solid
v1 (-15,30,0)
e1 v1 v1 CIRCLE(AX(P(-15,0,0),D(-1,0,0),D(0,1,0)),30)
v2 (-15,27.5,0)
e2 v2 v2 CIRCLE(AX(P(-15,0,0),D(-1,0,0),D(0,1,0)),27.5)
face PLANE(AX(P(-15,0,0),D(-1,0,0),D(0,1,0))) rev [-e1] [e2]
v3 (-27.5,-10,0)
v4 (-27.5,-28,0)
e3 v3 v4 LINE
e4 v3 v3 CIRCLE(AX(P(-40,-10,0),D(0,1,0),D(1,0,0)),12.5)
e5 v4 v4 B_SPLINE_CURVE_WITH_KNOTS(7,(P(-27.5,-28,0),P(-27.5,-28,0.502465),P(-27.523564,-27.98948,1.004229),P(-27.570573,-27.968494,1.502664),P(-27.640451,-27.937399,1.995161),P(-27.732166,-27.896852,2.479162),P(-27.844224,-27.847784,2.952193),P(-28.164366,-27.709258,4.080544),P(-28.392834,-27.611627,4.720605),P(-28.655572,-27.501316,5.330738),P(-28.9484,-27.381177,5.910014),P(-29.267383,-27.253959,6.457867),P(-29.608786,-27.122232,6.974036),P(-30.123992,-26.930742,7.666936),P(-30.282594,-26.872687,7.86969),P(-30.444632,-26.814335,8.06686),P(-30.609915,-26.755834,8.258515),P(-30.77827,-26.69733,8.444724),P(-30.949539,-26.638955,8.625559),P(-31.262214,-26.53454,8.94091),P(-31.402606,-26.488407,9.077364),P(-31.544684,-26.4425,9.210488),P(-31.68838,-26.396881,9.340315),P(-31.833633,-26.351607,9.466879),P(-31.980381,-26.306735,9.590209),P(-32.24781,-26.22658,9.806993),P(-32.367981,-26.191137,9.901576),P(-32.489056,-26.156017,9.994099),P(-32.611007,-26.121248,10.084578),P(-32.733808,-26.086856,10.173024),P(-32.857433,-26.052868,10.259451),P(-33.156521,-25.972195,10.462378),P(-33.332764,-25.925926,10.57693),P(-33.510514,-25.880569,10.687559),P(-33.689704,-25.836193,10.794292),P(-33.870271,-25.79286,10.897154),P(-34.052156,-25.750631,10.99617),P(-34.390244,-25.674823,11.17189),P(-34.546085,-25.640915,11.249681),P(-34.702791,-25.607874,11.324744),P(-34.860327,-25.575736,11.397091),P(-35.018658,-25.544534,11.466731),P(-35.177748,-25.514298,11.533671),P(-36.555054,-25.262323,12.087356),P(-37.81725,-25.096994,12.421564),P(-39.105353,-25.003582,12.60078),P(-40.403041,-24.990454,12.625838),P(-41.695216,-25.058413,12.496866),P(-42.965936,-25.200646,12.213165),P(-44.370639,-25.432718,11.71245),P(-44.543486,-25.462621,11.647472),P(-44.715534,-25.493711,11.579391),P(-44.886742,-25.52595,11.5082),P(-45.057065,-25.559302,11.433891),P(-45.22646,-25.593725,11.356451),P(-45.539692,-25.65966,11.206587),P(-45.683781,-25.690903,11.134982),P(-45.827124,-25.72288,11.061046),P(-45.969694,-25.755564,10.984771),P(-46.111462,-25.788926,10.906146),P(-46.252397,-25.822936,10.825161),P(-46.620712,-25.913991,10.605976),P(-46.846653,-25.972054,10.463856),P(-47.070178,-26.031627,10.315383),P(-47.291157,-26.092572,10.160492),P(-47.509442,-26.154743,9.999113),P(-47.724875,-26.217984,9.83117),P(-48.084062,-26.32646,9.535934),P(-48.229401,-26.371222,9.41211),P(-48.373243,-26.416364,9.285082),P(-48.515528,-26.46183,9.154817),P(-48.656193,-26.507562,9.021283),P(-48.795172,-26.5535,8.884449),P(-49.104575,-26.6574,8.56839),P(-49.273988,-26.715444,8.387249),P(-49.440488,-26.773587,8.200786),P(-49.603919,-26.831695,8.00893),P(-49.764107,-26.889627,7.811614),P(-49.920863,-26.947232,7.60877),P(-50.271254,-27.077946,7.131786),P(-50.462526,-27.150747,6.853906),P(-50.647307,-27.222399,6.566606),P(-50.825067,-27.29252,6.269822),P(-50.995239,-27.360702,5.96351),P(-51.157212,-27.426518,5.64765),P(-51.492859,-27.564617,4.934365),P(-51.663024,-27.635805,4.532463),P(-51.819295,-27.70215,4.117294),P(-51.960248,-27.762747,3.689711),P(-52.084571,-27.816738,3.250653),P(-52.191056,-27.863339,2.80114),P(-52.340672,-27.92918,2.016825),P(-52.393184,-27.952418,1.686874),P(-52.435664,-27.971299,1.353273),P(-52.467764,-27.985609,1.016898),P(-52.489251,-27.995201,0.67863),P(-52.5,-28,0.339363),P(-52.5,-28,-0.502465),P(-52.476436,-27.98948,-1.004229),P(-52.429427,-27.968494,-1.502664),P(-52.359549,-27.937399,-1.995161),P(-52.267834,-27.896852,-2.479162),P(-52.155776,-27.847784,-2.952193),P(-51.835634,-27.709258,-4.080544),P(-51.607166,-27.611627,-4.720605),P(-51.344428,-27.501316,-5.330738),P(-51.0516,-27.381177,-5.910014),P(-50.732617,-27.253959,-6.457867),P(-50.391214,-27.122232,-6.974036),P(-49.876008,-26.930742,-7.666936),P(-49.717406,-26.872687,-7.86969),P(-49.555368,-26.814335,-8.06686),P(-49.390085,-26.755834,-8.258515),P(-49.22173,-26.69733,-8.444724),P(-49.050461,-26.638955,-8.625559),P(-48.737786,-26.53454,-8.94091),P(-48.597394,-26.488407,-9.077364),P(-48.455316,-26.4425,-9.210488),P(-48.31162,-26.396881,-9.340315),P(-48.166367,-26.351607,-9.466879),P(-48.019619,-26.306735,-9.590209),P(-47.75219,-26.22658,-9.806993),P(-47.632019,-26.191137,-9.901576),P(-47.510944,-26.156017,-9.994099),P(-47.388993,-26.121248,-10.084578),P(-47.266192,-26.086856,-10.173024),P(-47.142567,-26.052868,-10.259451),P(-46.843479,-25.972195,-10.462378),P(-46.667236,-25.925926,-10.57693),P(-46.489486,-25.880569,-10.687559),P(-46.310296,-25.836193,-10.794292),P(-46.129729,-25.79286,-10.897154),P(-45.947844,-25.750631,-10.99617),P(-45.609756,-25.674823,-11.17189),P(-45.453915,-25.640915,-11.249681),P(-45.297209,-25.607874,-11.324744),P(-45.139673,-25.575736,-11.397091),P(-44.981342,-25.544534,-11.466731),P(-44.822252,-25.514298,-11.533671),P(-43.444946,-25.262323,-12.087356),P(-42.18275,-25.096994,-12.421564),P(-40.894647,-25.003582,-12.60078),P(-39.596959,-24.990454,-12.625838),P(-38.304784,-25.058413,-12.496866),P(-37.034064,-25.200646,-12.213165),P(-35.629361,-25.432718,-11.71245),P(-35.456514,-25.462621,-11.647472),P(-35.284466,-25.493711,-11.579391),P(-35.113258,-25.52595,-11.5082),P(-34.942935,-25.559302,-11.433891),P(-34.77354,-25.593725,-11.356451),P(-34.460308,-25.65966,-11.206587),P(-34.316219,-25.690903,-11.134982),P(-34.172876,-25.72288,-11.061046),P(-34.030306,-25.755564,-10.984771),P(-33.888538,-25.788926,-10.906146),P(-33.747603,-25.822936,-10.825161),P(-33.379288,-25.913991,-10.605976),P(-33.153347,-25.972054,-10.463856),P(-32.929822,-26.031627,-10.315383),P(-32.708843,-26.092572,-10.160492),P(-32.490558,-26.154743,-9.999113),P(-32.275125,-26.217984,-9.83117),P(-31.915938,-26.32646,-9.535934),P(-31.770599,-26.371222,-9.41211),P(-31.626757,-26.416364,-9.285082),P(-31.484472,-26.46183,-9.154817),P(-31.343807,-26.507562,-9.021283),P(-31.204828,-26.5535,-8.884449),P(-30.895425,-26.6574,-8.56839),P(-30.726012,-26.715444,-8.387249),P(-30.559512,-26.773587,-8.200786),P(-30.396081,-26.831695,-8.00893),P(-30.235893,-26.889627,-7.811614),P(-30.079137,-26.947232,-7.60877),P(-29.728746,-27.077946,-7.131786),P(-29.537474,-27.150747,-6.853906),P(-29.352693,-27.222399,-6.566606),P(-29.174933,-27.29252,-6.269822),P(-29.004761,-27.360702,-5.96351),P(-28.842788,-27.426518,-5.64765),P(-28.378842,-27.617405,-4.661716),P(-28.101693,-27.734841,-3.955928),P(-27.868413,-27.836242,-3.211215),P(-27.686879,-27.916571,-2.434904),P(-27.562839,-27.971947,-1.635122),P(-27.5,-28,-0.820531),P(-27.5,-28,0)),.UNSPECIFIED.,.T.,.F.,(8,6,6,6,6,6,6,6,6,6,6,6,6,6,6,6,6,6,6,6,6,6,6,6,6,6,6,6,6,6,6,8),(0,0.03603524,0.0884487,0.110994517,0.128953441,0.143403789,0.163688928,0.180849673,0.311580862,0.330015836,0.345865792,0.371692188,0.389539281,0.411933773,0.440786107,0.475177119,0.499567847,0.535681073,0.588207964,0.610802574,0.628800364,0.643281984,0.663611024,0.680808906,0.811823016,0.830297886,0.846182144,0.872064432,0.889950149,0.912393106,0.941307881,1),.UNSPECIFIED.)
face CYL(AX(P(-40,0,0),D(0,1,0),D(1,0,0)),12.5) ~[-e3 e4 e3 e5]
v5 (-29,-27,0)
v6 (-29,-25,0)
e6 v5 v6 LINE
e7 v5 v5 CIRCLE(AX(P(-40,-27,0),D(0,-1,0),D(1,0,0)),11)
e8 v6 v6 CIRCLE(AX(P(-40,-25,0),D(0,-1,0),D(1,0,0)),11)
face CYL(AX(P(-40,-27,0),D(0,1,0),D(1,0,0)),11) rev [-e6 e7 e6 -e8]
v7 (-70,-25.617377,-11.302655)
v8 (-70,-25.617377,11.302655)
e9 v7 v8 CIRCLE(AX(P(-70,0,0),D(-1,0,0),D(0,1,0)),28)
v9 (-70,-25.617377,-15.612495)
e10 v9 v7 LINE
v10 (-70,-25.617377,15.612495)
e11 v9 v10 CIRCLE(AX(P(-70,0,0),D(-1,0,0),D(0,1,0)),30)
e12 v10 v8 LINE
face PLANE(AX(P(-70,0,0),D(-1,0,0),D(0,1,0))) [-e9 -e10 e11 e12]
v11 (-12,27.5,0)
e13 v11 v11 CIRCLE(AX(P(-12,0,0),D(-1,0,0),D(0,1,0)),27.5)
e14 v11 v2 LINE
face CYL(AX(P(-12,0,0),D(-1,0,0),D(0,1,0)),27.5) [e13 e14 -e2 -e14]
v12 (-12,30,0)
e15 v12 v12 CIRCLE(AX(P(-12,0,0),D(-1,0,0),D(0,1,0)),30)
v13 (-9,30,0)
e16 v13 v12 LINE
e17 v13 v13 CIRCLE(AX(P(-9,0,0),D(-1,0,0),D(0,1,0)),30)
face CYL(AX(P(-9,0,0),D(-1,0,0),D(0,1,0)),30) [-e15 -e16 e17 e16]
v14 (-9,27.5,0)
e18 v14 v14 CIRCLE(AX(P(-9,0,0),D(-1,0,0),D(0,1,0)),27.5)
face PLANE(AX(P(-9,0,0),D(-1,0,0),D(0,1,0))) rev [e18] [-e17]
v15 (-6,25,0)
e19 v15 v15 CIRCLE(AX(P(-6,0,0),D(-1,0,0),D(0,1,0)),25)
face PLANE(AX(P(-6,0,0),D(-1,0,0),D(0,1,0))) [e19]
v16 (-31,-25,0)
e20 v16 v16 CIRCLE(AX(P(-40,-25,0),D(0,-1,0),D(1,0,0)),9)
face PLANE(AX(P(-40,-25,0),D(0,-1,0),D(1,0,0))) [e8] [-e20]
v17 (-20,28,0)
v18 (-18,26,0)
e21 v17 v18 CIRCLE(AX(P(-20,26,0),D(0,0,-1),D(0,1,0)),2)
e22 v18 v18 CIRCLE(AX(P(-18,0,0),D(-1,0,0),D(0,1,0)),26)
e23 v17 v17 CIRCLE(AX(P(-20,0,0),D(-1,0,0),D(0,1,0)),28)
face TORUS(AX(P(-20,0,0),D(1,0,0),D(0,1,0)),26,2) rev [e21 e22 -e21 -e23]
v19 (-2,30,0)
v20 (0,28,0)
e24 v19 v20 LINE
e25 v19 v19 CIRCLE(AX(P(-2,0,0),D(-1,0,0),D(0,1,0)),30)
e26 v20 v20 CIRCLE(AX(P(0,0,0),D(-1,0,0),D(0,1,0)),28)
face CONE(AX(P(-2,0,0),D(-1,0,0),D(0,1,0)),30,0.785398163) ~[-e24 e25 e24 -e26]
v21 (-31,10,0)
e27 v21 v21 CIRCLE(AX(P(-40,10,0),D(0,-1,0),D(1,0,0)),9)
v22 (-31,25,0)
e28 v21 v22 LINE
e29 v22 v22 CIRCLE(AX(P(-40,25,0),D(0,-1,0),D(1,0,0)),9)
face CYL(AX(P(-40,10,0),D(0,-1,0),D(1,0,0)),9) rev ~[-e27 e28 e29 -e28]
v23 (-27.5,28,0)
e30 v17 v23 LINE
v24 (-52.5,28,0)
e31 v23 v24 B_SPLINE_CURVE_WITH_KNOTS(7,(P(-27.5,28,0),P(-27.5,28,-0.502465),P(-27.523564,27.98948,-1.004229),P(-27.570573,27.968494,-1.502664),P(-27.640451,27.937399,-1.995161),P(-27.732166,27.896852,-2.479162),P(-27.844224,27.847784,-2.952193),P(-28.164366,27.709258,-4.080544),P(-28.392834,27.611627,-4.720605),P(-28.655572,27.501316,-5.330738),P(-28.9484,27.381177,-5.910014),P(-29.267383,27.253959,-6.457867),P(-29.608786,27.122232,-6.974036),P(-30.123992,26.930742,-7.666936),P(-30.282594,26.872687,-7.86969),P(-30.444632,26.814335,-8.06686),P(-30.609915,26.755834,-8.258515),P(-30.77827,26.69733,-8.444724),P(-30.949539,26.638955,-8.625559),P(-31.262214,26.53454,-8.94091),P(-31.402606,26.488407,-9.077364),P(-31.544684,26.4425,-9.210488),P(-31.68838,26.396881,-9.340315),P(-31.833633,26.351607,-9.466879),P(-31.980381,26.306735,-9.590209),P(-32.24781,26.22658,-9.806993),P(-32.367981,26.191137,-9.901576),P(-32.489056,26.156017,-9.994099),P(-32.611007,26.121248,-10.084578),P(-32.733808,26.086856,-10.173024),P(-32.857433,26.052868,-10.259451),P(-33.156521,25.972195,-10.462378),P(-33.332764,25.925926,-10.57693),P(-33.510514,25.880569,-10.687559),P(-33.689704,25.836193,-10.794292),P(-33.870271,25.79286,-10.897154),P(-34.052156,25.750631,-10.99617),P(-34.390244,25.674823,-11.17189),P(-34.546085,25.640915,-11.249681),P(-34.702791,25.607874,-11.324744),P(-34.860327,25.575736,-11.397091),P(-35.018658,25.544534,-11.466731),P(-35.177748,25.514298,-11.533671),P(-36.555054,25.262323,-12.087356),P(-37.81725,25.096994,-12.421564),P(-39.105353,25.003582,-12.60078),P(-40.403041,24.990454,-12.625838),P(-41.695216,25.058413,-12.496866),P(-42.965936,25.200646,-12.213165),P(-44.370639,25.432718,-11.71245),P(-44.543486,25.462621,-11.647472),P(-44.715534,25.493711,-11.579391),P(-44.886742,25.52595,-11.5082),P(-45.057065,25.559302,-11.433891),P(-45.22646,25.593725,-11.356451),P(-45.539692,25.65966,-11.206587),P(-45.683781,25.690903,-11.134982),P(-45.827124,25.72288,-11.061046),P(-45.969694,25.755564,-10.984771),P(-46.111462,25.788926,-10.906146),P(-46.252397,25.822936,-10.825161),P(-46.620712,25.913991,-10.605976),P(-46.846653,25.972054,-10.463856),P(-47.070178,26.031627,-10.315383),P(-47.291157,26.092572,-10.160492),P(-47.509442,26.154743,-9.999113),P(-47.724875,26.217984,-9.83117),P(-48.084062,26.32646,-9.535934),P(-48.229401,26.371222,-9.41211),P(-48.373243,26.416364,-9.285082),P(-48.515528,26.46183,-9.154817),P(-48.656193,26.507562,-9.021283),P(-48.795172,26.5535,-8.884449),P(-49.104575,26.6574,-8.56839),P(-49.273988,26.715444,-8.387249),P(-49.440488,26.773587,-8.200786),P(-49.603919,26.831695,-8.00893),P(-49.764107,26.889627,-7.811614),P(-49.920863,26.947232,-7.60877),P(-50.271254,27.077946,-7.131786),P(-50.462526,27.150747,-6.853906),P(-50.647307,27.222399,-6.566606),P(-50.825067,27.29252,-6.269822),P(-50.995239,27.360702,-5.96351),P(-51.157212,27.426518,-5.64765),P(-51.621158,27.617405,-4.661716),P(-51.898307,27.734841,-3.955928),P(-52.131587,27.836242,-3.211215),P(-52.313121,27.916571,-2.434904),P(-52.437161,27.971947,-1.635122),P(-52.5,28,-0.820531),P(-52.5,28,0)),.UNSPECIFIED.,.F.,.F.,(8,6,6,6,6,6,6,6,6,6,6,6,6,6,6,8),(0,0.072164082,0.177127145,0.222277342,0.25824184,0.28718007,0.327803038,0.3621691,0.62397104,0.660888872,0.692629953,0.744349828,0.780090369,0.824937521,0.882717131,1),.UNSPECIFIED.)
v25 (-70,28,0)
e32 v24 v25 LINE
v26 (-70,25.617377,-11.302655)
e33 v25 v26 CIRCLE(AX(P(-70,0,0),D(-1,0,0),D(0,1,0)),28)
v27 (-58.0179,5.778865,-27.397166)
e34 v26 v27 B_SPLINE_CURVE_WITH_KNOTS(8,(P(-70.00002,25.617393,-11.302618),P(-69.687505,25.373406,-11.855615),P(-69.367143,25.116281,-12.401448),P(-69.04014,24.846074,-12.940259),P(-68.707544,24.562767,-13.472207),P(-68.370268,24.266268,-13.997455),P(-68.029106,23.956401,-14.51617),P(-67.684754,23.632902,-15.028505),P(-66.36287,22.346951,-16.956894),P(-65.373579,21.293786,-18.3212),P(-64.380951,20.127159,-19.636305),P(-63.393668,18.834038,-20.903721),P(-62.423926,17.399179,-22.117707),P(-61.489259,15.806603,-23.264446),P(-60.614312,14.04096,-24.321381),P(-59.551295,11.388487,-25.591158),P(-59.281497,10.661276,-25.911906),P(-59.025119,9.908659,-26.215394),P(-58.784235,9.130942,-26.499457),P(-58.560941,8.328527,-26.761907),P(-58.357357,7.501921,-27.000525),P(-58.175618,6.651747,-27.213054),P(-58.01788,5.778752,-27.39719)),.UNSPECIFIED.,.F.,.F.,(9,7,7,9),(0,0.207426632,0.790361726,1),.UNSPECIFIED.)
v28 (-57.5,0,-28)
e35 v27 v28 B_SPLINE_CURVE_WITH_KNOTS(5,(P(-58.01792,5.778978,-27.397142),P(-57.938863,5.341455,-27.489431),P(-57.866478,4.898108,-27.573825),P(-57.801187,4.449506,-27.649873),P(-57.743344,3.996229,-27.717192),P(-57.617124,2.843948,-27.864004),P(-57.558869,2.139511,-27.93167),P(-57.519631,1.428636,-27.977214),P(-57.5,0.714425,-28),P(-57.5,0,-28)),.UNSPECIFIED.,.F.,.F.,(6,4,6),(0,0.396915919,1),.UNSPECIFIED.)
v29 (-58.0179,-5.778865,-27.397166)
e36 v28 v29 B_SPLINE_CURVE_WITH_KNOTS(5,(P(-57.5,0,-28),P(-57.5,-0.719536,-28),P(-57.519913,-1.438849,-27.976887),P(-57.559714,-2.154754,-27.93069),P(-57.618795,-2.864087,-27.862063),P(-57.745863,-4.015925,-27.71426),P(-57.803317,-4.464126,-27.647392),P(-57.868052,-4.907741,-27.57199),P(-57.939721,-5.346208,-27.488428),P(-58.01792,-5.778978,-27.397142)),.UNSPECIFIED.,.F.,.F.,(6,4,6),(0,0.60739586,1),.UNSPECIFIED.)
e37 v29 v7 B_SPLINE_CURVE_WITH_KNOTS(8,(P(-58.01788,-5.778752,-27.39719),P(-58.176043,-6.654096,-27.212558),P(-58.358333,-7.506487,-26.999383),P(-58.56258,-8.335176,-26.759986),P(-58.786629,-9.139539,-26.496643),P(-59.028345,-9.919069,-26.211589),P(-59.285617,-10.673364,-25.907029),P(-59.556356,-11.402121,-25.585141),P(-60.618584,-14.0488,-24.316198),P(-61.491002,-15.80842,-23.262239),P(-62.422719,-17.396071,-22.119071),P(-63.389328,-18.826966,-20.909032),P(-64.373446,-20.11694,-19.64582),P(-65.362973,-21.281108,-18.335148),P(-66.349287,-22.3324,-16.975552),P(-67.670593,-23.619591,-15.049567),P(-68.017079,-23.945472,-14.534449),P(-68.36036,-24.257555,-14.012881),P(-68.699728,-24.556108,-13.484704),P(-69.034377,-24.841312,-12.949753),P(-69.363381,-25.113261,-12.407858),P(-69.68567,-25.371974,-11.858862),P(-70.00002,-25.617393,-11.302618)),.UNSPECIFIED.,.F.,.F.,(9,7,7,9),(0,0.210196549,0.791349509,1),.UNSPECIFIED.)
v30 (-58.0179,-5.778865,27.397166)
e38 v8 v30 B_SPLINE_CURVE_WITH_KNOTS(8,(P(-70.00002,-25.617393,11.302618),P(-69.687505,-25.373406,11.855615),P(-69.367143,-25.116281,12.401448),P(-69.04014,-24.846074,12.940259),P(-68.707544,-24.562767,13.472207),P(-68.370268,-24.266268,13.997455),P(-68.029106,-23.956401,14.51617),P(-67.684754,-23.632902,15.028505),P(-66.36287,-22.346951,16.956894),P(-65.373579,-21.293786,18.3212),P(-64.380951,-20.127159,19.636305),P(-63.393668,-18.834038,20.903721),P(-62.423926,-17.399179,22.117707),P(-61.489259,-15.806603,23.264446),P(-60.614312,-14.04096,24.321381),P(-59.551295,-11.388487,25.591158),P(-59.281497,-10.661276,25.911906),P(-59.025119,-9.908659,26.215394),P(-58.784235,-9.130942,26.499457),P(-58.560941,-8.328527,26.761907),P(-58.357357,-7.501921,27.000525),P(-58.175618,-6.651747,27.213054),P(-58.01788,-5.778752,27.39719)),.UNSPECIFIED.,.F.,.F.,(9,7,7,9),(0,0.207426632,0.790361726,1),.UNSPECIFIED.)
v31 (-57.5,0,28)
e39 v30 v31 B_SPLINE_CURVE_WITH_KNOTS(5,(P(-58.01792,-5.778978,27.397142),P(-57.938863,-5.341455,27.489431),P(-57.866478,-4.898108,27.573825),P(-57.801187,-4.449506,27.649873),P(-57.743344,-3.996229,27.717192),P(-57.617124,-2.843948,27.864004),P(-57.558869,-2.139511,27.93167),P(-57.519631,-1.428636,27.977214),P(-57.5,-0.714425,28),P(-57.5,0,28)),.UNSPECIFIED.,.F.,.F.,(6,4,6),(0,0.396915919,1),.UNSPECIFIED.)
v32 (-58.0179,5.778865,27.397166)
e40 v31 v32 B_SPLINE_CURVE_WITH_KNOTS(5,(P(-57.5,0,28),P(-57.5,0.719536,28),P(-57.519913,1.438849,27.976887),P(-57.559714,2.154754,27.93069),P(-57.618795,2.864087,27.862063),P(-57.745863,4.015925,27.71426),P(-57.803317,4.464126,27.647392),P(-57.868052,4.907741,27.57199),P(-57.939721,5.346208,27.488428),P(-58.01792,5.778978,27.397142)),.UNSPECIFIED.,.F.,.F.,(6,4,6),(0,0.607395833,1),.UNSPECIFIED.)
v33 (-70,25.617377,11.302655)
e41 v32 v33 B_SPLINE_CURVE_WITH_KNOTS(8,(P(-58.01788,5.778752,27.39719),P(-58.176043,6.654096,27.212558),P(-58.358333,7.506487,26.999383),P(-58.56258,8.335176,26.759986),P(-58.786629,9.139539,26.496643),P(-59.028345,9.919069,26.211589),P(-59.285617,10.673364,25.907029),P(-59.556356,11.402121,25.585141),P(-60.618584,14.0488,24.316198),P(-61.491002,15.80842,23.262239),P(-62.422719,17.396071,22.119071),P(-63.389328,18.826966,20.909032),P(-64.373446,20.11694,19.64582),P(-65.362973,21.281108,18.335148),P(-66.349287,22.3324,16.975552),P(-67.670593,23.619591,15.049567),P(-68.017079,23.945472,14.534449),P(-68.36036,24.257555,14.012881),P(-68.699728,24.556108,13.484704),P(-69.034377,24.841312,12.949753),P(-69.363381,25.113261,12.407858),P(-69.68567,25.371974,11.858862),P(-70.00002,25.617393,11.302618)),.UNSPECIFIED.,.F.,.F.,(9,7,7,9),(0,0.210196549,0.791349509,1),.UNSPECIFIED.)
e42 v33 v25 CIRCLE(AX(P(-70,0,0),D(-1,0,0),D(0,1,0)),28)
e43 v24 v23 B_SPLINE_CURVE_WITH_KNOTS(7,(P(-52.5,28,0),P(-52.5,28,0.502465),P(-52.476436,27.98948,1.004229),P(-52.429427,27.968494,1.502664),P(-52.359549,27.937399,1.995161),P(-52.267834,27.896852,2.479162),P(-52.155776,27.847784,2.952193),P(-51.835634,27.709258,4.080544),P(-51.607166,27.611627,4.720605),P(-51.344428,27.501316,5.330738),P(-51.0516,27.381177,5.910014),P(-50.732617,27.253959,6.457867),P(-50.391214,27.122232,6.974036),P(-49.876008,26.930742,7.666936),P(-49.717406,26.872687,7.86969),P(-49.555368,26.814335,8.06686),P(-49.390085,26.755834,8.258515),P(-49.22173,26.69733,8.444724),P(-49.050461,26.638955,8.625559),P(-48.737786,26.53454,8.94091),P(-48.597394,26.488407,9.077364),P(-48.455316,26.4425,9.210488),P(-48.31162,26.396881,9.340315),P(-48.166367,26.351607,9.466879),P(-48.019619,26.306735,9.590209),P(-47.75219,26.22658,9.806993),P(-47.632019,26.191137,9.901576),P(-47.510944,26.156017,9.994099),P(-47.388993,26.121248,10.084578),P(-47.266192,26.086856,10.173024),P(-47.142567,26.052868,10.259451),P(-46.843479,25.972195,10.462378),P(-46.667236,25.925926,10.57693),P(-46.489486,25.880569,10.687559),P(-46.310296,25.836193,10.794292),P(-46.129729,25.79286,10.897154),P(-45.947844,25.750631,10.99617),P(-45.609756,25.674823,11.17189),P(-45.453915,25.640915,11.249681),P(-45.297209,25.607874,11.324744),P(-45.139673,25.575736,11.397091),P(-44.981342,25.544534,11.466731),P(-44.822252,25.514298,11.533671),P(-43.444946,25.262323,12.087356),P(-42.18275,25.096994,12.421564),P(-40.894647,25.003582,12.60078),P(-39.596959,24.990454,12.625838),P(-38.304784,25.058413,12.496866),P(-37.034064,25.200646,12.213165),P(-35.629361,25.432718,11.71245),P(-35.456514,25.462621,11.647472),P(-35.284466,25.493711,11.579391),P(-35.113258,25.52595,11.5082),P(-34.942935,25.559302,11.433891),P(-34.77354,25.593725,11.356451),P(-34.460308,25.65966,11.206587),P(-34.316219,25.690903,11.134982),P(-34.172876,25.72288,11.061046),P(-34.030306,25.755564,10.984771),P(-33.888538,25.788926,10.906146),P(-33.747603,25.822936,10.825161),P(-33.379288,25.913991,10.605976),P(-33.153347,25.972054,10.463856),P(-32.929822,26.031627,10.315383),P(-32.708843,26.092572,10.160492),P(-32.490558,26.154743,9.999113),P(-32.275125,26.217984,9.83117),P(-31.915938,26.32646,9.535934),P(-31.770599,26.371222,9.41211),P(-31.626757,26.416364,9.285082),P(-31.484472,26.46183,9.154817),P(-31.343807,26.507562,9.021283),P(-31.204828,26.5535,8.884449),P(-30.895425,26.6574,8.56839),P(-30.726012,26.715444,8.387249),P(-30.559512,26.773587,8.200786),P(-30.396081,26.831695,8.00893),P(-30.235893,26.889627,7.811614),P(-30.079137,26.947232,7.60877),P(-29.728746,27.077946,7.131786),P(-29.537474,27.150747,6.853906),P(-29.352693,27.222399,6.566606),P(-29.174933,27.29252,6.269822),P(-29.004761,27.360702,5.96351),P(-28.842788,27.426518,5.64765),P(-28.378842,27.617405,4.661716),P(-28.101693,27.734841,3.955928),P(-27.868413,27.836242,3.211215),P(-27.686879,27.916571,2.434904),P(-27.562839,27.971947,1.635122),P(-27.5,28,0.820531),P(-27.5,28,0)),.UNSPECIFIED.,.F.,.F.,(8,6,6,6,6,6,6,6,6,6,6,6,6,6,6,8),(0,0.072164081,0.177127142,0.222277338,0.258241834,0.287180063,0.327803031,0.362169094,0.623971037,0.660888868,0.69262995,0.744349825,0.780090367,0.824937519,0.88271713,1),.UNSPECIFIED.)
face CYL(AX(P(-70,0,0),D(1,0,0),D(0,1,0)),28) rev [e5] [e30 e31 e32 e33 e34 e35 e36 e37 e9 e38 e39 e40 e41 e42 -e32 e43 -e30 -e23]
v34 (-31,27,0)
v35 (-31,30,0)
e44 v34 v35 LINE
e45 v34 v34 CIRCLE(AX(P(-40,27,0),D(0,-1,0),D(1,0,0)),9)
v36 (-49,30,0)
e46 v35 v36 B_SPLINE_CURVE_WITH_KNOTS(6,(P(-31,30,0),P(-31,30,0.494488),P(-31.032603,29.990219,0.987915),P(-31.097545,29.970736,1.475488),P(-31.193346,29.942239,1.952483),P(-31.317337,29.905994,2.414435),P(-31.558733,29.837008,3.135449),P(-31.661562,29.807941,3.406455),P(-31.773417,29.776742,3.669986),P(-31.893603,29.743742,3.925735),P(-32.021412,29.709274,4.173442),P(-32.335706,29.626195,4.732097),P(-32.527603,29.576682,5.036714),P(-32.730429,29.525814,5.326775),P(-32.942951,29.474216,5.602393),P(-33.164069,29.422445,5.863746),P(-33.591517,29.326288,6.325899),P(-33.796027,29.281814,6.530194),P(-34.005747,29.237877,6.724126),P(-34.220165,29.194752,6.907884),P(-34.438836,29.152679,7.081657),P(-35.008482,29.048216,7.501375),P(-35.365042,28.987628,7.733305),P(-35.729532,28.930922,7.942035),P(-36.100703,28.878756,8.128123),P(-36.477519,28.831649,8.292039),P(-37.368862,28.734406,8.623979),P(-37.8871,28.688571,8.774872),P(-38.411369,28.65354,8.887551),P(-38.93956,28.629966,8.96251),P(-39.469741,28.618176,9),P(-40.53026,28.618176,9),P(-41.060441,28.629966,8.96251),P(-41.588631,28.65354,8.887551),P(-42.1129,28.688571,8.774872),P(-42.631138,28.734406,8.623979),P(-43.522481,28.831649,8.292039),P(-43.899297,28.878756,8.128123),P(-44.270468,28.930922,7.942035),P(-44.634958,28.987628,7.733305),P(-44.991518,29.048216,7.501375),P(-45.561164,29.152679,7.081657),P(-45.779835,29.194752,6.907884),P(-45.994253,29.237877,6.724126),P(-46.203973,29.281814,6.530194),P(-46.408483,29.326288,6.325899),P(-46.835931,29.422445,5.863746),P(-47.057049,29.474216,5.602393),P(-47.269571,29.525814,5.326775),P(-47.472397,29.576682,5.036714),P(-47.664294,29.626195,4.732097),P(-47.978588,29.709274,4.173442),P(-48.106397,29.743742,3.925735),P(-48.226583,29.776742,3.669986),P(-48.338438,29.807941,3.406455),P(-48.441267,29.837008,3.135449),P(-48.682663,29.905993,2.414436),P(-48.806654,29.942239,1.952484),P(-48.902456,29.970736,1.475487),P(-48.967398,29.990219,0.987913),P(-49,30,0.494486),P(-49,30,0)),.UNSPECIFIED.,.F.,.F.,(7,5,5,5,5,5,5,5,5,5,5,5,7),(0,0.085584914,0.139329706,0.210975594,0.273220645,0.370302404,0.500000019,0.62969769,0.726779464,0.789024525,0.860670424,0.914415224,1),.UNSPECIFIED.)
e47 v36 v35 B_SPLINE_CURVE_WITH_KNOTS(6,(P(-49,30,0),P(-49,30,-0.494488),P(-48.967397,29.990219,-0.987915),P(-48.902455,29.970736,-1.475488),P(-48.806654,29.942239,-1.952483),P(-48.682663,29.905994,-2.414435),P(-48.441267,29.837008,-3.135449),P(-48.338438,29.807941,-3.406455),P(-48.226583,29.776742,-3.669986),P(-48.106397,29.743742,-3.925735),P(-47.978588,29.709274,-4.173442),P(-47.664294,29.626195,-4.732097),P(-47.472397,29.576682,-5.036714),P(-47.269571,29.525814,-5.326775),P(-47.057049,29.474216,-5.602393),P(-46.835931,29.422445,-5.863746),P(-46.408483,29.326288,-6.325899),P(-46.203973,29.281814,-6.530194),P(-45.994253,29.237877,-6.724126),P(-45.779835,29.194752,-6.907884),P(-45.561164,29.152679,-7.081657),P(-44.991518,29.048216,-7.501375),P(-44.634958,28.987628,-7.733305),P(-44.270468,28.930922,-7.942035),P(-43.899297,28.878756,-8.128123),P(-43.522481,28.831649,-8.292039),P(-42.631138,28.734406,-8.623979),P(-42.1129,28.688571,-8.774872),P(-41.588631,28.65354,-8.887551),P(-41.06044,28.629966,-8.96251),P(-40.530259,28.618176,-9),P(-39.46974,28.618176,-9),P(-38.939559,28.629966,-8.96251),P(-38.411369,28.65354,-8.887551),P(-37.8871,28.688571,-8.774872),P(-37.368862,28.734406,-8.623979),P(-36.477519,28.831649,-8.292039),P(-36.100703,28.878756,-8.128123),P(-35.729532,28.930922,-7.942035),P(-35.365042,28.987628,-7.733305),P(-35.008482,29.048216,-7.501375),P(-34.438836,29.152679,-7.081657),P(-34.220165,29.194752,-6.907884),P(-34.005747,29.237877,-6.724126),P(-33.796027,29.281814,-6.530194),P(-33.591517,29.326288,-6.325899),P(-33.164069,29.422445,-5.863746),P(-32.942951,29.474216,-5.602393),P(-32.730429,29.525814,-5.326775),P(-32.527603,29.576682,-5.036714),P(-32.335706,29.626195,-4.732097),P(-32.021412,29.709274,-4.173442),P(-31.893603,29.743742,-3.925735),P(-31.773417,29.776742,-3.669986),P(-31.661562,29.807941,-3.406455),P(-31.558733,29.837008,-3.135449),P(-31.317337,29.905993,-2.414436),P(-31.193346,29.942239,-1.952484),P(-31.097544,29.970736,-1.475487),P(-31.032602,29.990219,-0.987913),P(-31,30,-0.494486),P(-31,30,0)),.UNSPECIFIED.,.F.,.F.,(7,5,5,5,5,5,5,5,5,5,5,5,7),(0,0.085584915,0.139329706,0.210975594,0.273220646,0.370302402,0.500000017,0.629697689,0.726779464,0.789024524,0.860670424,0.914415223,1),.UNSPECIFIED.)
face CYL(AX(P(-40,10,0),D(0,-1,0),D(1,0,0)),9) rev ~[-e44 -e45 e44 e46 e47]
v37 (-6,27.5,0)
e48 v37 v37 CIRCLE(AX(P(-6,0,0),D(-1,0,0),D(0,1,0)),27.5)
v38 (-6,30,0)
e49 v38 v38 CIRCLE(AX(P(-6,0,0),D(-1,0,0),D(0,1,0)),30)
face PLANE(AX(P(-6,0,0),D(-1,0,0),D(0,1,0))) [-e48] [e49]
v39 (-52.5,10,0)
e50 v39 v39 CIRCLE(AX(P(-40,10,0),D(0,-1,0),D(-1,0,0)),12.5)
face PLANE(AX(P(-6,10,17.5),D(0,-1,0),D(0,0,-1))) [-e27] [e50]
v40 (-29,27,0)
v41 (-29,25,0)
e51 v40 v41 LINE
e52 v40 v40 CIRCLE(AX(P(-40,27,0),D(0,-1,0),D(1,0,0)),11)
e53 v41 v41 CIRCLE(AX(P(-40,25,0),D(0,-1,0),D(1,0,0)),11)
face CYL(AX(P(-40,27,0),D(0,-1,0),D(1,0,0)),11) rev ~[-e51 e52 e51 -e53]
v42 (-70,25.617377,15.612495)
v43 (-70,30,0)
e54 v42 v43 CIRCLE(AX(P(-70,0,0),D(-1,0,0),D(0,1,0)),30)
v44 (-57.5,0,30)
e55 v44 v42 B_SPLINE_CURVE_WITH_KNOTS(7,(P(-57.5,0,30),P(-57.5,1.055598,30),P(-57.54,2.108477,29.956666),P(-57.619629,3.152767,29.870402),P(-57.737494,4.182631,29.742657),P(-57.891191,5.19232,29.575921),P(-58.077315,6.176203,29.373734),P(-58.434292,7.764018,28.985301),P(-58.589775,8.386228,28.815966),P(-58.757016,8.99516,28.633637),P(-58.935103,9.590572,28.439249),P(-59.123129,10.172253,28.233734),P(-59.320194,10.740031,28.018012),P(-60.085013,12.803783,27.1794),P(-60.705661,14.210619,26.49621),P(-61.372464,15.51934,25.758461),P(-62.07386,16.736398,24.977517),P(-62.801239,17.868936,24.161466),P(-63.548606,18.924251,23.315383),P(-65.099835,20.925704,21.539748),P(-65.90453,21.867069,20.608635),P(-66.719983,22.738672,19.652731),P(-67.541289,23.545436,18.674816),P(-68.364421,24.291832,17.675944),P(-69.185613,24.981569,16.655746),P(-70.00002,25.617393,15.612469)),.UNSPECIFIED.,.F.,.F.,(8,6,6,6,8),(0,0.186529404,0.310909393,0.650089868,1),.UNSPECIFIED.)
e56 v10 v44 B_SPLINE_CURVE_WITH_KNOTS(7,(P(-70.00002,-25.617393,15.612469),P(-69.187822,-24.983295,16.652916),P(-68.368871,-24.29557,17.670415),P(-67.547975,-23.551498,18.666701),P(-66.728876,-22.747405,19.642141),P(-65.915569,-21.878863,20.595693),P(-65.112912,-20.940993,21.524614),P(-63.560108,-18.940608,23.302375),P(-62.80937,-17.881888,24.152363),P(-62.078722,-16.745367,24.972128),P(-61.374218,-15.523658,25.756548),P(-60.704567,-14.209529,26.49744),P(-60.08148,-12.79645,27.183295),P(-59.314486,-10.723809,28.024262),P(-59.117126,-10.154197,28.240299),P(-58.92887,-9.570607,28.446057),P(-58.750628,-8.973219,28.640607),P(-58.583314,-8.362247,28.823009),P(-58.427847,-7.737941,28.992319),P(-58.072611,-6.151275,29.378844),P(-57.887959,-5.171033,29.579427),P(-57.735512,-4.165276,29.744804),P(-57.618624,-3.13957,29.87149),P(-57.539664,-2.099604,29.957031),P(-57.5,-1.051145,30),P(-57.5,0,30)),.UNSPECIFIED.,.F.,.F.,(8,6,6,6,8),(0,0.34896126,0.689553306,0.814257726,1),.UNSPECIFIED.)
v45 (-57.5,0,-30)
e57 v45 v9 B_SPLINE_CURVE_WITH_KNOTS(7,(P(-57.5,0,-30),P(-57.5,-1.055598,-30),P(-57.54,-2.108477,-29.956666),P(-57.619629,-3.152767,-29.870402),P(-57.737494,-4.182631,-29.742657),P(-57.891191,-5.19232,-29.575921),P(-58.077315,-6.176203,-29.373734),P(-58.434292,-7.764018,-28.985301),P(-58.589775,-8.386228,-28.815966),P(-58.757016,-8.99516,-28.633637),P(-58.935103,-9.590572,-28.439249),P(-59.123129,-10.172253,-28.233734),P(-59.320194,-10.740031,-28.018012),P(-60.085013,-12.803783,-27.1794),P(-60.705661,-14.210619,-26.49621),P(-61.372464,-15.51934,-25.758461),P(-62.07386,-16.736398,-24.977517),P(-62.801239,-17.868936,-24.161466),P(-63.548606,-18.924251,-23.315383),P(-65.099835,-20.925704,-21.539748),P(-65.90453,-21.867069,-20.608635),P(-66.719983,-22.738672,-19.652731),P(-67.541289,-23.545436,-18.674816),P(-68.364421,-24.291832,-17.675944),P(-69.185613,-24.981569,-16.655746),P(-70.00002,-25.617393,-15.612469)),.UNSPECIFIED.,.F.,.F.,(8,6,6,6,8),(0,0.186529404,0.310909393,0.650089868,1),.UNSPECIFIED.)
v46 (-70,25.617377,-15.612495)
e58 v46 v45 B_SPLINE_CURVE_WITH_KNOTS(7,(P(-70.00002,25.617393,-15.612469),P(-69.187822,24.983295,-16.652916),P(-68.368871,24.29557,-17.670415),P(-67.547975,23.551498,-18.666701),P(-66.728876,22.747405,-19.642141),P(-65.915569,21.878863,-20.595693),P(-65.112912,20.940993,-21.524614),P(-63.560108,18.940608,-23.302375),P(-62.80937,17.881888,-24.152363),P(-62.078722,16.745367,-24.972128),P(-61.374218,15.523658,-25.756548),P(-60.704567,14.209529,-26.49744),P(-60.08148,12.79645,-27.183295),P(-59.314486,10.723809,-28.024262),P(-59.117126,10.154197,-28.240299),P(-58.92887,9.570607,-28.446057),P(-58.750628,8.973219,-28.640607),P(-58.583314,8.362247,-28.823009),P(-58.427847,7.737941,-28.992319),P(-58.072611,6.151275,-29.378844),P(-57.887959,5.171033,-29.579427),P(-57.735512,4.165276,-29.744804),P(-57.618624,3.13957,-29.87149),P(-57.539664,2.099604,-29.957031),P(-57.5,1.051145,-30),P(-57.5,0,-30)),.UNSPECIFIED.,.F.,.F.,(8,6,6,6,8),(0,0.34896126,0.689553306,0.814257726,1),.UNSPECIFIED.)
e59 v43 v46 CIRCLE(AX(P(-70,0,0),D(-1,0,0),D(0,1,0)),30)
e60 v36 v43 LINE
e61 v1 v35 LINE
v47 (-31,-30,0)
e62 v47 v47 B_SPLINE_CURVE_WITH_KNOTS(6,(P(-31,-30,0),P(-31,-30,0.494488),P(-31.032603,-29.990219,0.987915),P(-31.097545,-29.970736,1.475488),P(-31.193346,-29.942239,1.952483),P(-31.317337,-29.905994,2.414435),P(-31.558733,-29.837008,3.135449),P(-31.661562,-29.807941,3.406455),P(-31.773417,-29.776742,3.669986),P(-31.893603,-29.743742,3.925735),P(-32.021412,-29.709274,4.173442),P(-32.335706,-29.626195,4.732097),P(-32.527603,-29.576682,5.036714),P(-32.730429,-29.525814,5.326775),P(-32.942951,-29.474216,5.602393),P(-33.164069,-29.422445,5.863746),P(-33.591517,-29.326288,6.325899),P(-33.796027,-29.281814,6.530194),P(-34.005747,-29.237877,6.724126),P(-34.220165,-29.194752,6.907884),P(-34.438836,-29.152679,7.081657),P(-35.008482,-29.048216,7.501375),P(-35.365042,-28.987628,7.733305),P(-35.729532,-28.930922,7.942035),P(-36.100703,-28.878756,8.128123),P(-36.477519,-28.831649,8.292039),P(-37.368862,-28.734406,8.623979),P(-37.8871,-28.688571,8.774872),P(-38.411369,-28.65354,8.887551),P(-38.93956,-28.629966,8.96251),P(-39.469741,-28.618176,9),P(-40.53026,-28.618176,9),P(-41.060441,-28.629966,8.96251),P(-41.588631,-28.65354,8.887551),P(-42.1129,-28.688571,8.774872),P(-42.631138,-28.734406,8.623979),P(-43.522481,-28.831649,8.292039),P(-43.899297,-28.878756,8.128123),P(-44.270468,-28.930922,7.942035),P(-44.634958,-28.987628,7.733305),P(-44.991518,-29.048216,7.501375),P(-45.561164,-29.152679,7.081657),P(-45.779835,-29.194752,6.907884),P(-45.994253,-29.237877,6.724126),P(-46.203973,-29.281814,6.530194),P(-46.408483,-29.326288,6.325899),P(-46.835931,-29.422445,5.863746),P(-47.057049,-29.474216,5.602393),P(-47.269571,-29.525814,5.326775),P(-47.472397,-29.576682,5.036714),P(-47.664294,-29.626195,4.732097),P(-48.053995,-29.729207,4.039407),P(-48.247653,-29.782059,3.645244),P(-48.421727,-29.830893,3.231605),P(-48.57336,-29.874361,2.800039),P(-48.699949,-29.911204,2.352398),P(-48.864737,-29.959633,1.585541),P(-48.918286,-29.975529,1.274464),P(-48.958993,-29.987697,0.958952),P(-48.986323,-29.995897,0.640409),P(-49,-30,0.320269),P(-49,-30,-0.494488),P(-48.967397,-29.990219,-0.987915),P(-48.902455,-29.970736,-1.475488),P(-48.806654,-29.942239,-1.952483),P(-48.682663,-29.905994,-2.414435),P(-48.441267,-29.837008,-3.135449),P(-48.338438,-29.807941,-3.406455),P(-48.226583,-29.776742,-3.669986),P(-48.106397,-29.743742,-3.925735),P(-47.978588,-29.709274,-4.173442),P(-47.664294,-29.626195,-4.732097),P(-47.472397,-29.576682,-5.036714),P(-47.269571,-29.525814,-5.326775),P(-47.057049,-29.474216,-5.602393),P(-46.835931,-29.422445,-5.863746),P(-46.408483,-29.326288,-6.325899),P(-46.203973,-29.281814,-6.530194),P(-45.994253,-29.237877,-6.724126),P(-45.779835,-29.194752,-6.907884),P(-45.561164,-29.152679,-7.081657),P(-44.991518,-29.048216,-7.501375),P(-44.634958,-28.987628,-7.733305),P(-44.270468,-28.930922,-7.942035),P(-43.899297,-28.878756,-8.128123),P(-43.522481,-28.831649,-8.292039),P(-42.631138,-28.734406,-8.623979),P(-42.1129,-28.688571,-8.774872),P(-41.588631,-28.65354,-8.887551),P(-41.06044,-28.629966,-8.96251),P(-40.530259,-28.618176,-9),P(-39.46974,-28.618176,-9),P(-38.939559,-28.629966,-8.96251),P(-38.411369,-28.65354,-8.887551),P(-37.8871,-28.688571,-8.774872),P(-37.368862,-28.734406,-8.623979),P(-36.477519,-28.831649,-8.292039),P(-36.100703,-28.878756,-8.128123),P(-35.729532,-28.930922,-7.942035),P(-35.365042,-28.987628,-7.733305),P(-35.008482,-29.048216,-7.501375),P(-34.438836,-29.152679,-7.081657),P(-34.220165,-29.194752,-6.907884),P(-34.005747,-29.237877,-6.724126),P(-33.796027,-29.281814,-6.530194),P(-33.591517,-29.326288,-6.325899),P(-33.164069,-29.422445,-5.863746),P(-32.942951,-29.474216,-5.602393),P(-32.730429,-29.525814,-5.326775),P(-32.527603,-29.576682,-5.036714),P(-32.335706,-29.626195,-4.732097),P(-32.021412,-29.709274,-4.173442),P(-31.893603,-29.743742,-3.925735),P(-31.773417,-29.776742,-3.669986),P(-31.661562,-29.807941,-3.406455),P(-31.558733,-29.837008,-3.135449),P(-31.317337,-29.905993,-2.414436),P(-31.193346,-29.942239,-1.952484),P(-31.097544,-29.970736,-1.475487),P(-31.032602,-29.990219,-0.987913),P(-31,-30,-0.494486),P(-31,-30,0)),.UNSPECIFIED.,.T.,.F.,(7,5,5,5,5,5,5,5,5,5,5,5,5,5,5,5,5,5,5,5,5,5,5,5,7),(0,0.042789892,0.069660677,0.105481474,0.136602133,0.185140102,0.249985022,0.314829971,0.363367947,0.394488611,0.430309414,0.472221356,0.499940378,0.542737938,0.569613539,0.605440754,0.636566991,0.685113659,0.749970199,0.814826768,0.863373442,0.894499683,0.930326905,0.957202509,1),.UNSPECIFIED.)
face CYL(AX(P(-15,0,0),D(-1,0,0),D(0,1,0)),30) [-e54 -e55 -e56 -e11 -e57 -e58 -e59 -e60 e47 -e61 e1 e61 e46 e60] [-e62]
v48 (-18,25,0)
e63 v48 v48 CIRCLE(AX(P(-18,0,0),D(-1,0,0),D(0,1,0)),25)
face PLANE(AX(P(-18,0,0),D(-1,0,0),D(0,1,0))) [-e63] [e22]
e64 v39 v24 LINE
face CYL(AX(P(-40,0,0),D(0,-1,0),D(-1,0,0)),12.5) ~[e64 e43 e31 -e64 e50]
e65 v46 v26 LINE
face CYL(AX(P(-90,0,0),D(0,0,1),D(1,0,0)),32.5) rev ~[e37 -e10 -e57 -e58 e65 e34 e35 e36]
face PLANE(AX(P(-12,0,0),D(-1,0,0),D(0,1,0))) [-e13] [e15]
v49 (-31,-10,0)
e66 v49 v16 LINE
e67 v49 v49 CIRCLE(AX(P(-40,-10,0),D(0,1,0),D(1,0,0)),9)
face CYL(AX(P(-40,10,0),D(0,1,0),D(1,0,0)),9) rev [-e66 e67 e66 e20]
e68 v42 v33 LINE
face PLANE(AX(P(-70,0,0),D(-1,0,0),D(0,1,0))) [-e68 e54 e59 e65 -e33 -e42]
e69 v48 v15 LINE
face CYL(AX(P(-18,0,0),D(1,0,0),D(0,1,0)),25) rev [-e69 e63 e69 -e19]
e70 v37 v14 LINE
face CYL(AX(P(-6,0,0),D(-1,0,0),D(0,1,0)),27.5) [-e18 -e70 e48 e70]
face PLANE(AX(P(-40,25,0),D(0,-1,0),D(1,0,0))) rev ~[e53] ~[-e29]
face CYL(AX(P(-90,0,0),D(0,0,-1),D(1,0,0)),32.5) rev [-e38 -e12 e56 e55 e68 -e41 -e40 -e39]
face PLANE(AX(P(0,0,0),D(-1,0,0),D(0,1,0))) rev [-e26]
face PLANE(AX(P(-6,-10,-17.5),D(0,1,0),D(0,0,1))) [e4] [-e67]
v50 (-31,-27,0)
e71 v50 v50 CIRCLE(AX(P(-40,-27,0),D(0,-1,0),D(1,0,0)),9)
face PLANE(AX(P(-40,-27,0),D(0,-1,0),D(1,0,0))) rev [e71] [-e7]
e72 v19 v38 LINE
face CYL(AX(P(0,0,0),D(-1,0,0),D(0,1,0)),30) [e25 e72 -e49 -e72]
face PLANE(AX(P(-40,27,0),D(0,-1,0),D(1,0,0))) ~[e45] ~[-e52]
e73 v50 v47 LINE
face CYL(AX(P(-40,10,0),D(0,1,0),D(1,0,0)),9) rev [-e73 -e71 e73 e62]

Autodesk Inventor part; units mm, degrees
ref_plane "YZ Plane" through (0, 0, 0) normal (1, 0, 0) x (0, 1, 0)
ref_plane "XZ Plane" through (0, 0, 0) normal (0, 1, 0) x (-1, 0, 0)
ref_plane "XY Plane" through (0, 0, 0) normal (0, 0, 1) x (1, 0, 0)
sketch "Esboço1" plane through (0, 0, 0) normal (0, 0, 1) x (1, 0, 0)
  line L0 (0, 0) -> (-70, 0)
  line L1 (0, 0) -> (0, 30)
  line L2 (-70, 30) -> (-70, 28)
  line L3 (-70, 28) -> (-18, 28)
  line L4 (-18, 28) -> (-58.0179, 28)
  line L5 (-18, 28) -> (-18, 25)
  line L6 (-18, 25) -> (-6, 25)
  line L7 (-6, 25) -> (-6, 0)
  line L8 (0, 30) -> (-6, 30)
  line L9 (-6, 30) -> (-6, 27.5)
  line L10 (-6, 27.5) -> (-9, 27.5)
  line L11 (-9, 27.5) -> (-9, 30)
  line L12 (-9, 30) -> (-12, 30)
  line L13 (-12, 30) -> (-12, 27.5)
  line L14 (-12, 27.5) -> (-15, 27.5)
  line L15 (-15, 27.5) -> (-15, 30)
  line L16 (-15, 30) -> (-70, 30)
  line L17 (-6, 0) -> (0, 0)
  dimension "d1" = 60
  dimension "d2" = 70
  dimension "d4" = 70
  dimension "d5" = 56
  dimension "d8" = 52
  dimension "d9" = 64
  dimension "d10" = 50
  dimension "d11" = 6
  dimension "d12" = 55
  dimension "d13" = 3
  dimension "d14" = 3
  dimension "d15" = 3
  dimension "d16" = 55
  dimension "d17" = 55
  dimension "d18" = 60
revolve "Revolução1" add sketch "Esboço1" angle 360 about axis through (0, 0, 0) along (-1, 0, 0)
chamfer "Chanfro1" distance 2 angle 45 1 edges at (0, -30, 0)
fillet "Arredondamento1" radius 2 1 edges at (-18, -28, 0)
sketch "Esboço2" plane through (0, 0, 0) normal (0, 0, 1) x (1, 0, 0)
  line L0 (-70, 0) -> (-40, 0)
  line L1 (-70, 0) -> (-90, 0)
  circle A0 centre (-90, 0) radius 32.5
  point P0 (0, 0)
  dimension "d24" = 70
  dimension "d25" = 30
  dimension "d26" = 20
  dimension "d27" = 65
  dimension "d28" = 90
extrude "Extrusão1" cut sketch "Esboço2" along normal mid plane 200000
sketch "Esboço3" plane through (0, 0, 0) normal (0, 1, 0) x (-1, 0, 0)
  line L0 (70, -15.6125) -> (70, 15.6125) projected
  line L1 (70, 0) -> (40, 0)
  line L2 (70, -15.6125) -> (70, 15.6125) projected
  circle A0 centre (40, 0) radius 12.5
  point P0 (0, 0)
  dimension "d32" = 30
  dimension "d33" = 25
extrude "Extrusão2" add sketch "Esboço3" along normal up to next
sketch "Esboço4" plane through (-40, 0, 0) normal (0, -1, 0) x (1, 0, 0)
  circle A0 centre (0, 0) radius 12.5
  point P0 (40, 0)
extrude "Extrusão3" add sketch "Esboço4" along normal up to next
sketch "Esboço5" plane through (-6, 0, 0) normal (-1, 0, 0) x (0, 0, 1)
  line L0 (-17.5, -10) -> (17.5, -10)
  line L1 (17.5, -10) -> (17.5, 10)
  line L2 (17.5, 10) -> (-17.5, 10)
  line L3 (-17.5, 10) -> (-17.5, -10)
  line L4 (-17.5, -10) -> (17.5, 10) construction
  line L5 (17.5, -10) -> (-17.5, 10) construction
  point P0 (0, 0)
  dimension "d38" = 20
extrude "Extrusão4" cut sketch "Esboço5" along normal blind 100
sketch "Esboço6" plane through (-40, 10, 0) normal (0, -1, 0) x (1, 0, 0)
  circle A0 centre (0, 0) radius 12.5 projected
  circle A1 centre (0, 0) radius 9
  point P0 (40, 0)
  dimension "d41" = 18
extrude "Extrusão5" cut sketch "Esboço6" along normal mid plane 100 contours A1
sketch "Esboço8" plane through (0, 0, 0) normal (0, 0, 1) x (1, 0, 0)
  line L0 (0, 0) -> (-31, 0)
  line L1 (-31, 27) -> (-29, 27)
  line L2 (-29, 27) -> (-29, 25)
  line L3 (-29, 25) -> (-31, 25)
  line L4 (-31, 27) -> (-31, 25)
  line L5 (-31, -27) -> (-29, -27)
  line L6 (-29, -27) -> (-29, -25)
  line L7 (-29, -25) -> (-31, -25)
  line L8 (-31, -27) -> (-31, -25)
  line L9 (-49, 30) -> (-49, 10) projected
  line L10 (-40, 30) -> (-40, -34.5055)
  point P0 (-31, 30)
  dimension "d45" = 3
  dimension "d46" = 2
  dimension "d47" = 2
  dimension "d49" = 18
revolve "Revolução2" cut sketch "Esboço8" angle 360 about axis through (-40, 30, 0) along (0, -1, 0)
properties part number "02"
